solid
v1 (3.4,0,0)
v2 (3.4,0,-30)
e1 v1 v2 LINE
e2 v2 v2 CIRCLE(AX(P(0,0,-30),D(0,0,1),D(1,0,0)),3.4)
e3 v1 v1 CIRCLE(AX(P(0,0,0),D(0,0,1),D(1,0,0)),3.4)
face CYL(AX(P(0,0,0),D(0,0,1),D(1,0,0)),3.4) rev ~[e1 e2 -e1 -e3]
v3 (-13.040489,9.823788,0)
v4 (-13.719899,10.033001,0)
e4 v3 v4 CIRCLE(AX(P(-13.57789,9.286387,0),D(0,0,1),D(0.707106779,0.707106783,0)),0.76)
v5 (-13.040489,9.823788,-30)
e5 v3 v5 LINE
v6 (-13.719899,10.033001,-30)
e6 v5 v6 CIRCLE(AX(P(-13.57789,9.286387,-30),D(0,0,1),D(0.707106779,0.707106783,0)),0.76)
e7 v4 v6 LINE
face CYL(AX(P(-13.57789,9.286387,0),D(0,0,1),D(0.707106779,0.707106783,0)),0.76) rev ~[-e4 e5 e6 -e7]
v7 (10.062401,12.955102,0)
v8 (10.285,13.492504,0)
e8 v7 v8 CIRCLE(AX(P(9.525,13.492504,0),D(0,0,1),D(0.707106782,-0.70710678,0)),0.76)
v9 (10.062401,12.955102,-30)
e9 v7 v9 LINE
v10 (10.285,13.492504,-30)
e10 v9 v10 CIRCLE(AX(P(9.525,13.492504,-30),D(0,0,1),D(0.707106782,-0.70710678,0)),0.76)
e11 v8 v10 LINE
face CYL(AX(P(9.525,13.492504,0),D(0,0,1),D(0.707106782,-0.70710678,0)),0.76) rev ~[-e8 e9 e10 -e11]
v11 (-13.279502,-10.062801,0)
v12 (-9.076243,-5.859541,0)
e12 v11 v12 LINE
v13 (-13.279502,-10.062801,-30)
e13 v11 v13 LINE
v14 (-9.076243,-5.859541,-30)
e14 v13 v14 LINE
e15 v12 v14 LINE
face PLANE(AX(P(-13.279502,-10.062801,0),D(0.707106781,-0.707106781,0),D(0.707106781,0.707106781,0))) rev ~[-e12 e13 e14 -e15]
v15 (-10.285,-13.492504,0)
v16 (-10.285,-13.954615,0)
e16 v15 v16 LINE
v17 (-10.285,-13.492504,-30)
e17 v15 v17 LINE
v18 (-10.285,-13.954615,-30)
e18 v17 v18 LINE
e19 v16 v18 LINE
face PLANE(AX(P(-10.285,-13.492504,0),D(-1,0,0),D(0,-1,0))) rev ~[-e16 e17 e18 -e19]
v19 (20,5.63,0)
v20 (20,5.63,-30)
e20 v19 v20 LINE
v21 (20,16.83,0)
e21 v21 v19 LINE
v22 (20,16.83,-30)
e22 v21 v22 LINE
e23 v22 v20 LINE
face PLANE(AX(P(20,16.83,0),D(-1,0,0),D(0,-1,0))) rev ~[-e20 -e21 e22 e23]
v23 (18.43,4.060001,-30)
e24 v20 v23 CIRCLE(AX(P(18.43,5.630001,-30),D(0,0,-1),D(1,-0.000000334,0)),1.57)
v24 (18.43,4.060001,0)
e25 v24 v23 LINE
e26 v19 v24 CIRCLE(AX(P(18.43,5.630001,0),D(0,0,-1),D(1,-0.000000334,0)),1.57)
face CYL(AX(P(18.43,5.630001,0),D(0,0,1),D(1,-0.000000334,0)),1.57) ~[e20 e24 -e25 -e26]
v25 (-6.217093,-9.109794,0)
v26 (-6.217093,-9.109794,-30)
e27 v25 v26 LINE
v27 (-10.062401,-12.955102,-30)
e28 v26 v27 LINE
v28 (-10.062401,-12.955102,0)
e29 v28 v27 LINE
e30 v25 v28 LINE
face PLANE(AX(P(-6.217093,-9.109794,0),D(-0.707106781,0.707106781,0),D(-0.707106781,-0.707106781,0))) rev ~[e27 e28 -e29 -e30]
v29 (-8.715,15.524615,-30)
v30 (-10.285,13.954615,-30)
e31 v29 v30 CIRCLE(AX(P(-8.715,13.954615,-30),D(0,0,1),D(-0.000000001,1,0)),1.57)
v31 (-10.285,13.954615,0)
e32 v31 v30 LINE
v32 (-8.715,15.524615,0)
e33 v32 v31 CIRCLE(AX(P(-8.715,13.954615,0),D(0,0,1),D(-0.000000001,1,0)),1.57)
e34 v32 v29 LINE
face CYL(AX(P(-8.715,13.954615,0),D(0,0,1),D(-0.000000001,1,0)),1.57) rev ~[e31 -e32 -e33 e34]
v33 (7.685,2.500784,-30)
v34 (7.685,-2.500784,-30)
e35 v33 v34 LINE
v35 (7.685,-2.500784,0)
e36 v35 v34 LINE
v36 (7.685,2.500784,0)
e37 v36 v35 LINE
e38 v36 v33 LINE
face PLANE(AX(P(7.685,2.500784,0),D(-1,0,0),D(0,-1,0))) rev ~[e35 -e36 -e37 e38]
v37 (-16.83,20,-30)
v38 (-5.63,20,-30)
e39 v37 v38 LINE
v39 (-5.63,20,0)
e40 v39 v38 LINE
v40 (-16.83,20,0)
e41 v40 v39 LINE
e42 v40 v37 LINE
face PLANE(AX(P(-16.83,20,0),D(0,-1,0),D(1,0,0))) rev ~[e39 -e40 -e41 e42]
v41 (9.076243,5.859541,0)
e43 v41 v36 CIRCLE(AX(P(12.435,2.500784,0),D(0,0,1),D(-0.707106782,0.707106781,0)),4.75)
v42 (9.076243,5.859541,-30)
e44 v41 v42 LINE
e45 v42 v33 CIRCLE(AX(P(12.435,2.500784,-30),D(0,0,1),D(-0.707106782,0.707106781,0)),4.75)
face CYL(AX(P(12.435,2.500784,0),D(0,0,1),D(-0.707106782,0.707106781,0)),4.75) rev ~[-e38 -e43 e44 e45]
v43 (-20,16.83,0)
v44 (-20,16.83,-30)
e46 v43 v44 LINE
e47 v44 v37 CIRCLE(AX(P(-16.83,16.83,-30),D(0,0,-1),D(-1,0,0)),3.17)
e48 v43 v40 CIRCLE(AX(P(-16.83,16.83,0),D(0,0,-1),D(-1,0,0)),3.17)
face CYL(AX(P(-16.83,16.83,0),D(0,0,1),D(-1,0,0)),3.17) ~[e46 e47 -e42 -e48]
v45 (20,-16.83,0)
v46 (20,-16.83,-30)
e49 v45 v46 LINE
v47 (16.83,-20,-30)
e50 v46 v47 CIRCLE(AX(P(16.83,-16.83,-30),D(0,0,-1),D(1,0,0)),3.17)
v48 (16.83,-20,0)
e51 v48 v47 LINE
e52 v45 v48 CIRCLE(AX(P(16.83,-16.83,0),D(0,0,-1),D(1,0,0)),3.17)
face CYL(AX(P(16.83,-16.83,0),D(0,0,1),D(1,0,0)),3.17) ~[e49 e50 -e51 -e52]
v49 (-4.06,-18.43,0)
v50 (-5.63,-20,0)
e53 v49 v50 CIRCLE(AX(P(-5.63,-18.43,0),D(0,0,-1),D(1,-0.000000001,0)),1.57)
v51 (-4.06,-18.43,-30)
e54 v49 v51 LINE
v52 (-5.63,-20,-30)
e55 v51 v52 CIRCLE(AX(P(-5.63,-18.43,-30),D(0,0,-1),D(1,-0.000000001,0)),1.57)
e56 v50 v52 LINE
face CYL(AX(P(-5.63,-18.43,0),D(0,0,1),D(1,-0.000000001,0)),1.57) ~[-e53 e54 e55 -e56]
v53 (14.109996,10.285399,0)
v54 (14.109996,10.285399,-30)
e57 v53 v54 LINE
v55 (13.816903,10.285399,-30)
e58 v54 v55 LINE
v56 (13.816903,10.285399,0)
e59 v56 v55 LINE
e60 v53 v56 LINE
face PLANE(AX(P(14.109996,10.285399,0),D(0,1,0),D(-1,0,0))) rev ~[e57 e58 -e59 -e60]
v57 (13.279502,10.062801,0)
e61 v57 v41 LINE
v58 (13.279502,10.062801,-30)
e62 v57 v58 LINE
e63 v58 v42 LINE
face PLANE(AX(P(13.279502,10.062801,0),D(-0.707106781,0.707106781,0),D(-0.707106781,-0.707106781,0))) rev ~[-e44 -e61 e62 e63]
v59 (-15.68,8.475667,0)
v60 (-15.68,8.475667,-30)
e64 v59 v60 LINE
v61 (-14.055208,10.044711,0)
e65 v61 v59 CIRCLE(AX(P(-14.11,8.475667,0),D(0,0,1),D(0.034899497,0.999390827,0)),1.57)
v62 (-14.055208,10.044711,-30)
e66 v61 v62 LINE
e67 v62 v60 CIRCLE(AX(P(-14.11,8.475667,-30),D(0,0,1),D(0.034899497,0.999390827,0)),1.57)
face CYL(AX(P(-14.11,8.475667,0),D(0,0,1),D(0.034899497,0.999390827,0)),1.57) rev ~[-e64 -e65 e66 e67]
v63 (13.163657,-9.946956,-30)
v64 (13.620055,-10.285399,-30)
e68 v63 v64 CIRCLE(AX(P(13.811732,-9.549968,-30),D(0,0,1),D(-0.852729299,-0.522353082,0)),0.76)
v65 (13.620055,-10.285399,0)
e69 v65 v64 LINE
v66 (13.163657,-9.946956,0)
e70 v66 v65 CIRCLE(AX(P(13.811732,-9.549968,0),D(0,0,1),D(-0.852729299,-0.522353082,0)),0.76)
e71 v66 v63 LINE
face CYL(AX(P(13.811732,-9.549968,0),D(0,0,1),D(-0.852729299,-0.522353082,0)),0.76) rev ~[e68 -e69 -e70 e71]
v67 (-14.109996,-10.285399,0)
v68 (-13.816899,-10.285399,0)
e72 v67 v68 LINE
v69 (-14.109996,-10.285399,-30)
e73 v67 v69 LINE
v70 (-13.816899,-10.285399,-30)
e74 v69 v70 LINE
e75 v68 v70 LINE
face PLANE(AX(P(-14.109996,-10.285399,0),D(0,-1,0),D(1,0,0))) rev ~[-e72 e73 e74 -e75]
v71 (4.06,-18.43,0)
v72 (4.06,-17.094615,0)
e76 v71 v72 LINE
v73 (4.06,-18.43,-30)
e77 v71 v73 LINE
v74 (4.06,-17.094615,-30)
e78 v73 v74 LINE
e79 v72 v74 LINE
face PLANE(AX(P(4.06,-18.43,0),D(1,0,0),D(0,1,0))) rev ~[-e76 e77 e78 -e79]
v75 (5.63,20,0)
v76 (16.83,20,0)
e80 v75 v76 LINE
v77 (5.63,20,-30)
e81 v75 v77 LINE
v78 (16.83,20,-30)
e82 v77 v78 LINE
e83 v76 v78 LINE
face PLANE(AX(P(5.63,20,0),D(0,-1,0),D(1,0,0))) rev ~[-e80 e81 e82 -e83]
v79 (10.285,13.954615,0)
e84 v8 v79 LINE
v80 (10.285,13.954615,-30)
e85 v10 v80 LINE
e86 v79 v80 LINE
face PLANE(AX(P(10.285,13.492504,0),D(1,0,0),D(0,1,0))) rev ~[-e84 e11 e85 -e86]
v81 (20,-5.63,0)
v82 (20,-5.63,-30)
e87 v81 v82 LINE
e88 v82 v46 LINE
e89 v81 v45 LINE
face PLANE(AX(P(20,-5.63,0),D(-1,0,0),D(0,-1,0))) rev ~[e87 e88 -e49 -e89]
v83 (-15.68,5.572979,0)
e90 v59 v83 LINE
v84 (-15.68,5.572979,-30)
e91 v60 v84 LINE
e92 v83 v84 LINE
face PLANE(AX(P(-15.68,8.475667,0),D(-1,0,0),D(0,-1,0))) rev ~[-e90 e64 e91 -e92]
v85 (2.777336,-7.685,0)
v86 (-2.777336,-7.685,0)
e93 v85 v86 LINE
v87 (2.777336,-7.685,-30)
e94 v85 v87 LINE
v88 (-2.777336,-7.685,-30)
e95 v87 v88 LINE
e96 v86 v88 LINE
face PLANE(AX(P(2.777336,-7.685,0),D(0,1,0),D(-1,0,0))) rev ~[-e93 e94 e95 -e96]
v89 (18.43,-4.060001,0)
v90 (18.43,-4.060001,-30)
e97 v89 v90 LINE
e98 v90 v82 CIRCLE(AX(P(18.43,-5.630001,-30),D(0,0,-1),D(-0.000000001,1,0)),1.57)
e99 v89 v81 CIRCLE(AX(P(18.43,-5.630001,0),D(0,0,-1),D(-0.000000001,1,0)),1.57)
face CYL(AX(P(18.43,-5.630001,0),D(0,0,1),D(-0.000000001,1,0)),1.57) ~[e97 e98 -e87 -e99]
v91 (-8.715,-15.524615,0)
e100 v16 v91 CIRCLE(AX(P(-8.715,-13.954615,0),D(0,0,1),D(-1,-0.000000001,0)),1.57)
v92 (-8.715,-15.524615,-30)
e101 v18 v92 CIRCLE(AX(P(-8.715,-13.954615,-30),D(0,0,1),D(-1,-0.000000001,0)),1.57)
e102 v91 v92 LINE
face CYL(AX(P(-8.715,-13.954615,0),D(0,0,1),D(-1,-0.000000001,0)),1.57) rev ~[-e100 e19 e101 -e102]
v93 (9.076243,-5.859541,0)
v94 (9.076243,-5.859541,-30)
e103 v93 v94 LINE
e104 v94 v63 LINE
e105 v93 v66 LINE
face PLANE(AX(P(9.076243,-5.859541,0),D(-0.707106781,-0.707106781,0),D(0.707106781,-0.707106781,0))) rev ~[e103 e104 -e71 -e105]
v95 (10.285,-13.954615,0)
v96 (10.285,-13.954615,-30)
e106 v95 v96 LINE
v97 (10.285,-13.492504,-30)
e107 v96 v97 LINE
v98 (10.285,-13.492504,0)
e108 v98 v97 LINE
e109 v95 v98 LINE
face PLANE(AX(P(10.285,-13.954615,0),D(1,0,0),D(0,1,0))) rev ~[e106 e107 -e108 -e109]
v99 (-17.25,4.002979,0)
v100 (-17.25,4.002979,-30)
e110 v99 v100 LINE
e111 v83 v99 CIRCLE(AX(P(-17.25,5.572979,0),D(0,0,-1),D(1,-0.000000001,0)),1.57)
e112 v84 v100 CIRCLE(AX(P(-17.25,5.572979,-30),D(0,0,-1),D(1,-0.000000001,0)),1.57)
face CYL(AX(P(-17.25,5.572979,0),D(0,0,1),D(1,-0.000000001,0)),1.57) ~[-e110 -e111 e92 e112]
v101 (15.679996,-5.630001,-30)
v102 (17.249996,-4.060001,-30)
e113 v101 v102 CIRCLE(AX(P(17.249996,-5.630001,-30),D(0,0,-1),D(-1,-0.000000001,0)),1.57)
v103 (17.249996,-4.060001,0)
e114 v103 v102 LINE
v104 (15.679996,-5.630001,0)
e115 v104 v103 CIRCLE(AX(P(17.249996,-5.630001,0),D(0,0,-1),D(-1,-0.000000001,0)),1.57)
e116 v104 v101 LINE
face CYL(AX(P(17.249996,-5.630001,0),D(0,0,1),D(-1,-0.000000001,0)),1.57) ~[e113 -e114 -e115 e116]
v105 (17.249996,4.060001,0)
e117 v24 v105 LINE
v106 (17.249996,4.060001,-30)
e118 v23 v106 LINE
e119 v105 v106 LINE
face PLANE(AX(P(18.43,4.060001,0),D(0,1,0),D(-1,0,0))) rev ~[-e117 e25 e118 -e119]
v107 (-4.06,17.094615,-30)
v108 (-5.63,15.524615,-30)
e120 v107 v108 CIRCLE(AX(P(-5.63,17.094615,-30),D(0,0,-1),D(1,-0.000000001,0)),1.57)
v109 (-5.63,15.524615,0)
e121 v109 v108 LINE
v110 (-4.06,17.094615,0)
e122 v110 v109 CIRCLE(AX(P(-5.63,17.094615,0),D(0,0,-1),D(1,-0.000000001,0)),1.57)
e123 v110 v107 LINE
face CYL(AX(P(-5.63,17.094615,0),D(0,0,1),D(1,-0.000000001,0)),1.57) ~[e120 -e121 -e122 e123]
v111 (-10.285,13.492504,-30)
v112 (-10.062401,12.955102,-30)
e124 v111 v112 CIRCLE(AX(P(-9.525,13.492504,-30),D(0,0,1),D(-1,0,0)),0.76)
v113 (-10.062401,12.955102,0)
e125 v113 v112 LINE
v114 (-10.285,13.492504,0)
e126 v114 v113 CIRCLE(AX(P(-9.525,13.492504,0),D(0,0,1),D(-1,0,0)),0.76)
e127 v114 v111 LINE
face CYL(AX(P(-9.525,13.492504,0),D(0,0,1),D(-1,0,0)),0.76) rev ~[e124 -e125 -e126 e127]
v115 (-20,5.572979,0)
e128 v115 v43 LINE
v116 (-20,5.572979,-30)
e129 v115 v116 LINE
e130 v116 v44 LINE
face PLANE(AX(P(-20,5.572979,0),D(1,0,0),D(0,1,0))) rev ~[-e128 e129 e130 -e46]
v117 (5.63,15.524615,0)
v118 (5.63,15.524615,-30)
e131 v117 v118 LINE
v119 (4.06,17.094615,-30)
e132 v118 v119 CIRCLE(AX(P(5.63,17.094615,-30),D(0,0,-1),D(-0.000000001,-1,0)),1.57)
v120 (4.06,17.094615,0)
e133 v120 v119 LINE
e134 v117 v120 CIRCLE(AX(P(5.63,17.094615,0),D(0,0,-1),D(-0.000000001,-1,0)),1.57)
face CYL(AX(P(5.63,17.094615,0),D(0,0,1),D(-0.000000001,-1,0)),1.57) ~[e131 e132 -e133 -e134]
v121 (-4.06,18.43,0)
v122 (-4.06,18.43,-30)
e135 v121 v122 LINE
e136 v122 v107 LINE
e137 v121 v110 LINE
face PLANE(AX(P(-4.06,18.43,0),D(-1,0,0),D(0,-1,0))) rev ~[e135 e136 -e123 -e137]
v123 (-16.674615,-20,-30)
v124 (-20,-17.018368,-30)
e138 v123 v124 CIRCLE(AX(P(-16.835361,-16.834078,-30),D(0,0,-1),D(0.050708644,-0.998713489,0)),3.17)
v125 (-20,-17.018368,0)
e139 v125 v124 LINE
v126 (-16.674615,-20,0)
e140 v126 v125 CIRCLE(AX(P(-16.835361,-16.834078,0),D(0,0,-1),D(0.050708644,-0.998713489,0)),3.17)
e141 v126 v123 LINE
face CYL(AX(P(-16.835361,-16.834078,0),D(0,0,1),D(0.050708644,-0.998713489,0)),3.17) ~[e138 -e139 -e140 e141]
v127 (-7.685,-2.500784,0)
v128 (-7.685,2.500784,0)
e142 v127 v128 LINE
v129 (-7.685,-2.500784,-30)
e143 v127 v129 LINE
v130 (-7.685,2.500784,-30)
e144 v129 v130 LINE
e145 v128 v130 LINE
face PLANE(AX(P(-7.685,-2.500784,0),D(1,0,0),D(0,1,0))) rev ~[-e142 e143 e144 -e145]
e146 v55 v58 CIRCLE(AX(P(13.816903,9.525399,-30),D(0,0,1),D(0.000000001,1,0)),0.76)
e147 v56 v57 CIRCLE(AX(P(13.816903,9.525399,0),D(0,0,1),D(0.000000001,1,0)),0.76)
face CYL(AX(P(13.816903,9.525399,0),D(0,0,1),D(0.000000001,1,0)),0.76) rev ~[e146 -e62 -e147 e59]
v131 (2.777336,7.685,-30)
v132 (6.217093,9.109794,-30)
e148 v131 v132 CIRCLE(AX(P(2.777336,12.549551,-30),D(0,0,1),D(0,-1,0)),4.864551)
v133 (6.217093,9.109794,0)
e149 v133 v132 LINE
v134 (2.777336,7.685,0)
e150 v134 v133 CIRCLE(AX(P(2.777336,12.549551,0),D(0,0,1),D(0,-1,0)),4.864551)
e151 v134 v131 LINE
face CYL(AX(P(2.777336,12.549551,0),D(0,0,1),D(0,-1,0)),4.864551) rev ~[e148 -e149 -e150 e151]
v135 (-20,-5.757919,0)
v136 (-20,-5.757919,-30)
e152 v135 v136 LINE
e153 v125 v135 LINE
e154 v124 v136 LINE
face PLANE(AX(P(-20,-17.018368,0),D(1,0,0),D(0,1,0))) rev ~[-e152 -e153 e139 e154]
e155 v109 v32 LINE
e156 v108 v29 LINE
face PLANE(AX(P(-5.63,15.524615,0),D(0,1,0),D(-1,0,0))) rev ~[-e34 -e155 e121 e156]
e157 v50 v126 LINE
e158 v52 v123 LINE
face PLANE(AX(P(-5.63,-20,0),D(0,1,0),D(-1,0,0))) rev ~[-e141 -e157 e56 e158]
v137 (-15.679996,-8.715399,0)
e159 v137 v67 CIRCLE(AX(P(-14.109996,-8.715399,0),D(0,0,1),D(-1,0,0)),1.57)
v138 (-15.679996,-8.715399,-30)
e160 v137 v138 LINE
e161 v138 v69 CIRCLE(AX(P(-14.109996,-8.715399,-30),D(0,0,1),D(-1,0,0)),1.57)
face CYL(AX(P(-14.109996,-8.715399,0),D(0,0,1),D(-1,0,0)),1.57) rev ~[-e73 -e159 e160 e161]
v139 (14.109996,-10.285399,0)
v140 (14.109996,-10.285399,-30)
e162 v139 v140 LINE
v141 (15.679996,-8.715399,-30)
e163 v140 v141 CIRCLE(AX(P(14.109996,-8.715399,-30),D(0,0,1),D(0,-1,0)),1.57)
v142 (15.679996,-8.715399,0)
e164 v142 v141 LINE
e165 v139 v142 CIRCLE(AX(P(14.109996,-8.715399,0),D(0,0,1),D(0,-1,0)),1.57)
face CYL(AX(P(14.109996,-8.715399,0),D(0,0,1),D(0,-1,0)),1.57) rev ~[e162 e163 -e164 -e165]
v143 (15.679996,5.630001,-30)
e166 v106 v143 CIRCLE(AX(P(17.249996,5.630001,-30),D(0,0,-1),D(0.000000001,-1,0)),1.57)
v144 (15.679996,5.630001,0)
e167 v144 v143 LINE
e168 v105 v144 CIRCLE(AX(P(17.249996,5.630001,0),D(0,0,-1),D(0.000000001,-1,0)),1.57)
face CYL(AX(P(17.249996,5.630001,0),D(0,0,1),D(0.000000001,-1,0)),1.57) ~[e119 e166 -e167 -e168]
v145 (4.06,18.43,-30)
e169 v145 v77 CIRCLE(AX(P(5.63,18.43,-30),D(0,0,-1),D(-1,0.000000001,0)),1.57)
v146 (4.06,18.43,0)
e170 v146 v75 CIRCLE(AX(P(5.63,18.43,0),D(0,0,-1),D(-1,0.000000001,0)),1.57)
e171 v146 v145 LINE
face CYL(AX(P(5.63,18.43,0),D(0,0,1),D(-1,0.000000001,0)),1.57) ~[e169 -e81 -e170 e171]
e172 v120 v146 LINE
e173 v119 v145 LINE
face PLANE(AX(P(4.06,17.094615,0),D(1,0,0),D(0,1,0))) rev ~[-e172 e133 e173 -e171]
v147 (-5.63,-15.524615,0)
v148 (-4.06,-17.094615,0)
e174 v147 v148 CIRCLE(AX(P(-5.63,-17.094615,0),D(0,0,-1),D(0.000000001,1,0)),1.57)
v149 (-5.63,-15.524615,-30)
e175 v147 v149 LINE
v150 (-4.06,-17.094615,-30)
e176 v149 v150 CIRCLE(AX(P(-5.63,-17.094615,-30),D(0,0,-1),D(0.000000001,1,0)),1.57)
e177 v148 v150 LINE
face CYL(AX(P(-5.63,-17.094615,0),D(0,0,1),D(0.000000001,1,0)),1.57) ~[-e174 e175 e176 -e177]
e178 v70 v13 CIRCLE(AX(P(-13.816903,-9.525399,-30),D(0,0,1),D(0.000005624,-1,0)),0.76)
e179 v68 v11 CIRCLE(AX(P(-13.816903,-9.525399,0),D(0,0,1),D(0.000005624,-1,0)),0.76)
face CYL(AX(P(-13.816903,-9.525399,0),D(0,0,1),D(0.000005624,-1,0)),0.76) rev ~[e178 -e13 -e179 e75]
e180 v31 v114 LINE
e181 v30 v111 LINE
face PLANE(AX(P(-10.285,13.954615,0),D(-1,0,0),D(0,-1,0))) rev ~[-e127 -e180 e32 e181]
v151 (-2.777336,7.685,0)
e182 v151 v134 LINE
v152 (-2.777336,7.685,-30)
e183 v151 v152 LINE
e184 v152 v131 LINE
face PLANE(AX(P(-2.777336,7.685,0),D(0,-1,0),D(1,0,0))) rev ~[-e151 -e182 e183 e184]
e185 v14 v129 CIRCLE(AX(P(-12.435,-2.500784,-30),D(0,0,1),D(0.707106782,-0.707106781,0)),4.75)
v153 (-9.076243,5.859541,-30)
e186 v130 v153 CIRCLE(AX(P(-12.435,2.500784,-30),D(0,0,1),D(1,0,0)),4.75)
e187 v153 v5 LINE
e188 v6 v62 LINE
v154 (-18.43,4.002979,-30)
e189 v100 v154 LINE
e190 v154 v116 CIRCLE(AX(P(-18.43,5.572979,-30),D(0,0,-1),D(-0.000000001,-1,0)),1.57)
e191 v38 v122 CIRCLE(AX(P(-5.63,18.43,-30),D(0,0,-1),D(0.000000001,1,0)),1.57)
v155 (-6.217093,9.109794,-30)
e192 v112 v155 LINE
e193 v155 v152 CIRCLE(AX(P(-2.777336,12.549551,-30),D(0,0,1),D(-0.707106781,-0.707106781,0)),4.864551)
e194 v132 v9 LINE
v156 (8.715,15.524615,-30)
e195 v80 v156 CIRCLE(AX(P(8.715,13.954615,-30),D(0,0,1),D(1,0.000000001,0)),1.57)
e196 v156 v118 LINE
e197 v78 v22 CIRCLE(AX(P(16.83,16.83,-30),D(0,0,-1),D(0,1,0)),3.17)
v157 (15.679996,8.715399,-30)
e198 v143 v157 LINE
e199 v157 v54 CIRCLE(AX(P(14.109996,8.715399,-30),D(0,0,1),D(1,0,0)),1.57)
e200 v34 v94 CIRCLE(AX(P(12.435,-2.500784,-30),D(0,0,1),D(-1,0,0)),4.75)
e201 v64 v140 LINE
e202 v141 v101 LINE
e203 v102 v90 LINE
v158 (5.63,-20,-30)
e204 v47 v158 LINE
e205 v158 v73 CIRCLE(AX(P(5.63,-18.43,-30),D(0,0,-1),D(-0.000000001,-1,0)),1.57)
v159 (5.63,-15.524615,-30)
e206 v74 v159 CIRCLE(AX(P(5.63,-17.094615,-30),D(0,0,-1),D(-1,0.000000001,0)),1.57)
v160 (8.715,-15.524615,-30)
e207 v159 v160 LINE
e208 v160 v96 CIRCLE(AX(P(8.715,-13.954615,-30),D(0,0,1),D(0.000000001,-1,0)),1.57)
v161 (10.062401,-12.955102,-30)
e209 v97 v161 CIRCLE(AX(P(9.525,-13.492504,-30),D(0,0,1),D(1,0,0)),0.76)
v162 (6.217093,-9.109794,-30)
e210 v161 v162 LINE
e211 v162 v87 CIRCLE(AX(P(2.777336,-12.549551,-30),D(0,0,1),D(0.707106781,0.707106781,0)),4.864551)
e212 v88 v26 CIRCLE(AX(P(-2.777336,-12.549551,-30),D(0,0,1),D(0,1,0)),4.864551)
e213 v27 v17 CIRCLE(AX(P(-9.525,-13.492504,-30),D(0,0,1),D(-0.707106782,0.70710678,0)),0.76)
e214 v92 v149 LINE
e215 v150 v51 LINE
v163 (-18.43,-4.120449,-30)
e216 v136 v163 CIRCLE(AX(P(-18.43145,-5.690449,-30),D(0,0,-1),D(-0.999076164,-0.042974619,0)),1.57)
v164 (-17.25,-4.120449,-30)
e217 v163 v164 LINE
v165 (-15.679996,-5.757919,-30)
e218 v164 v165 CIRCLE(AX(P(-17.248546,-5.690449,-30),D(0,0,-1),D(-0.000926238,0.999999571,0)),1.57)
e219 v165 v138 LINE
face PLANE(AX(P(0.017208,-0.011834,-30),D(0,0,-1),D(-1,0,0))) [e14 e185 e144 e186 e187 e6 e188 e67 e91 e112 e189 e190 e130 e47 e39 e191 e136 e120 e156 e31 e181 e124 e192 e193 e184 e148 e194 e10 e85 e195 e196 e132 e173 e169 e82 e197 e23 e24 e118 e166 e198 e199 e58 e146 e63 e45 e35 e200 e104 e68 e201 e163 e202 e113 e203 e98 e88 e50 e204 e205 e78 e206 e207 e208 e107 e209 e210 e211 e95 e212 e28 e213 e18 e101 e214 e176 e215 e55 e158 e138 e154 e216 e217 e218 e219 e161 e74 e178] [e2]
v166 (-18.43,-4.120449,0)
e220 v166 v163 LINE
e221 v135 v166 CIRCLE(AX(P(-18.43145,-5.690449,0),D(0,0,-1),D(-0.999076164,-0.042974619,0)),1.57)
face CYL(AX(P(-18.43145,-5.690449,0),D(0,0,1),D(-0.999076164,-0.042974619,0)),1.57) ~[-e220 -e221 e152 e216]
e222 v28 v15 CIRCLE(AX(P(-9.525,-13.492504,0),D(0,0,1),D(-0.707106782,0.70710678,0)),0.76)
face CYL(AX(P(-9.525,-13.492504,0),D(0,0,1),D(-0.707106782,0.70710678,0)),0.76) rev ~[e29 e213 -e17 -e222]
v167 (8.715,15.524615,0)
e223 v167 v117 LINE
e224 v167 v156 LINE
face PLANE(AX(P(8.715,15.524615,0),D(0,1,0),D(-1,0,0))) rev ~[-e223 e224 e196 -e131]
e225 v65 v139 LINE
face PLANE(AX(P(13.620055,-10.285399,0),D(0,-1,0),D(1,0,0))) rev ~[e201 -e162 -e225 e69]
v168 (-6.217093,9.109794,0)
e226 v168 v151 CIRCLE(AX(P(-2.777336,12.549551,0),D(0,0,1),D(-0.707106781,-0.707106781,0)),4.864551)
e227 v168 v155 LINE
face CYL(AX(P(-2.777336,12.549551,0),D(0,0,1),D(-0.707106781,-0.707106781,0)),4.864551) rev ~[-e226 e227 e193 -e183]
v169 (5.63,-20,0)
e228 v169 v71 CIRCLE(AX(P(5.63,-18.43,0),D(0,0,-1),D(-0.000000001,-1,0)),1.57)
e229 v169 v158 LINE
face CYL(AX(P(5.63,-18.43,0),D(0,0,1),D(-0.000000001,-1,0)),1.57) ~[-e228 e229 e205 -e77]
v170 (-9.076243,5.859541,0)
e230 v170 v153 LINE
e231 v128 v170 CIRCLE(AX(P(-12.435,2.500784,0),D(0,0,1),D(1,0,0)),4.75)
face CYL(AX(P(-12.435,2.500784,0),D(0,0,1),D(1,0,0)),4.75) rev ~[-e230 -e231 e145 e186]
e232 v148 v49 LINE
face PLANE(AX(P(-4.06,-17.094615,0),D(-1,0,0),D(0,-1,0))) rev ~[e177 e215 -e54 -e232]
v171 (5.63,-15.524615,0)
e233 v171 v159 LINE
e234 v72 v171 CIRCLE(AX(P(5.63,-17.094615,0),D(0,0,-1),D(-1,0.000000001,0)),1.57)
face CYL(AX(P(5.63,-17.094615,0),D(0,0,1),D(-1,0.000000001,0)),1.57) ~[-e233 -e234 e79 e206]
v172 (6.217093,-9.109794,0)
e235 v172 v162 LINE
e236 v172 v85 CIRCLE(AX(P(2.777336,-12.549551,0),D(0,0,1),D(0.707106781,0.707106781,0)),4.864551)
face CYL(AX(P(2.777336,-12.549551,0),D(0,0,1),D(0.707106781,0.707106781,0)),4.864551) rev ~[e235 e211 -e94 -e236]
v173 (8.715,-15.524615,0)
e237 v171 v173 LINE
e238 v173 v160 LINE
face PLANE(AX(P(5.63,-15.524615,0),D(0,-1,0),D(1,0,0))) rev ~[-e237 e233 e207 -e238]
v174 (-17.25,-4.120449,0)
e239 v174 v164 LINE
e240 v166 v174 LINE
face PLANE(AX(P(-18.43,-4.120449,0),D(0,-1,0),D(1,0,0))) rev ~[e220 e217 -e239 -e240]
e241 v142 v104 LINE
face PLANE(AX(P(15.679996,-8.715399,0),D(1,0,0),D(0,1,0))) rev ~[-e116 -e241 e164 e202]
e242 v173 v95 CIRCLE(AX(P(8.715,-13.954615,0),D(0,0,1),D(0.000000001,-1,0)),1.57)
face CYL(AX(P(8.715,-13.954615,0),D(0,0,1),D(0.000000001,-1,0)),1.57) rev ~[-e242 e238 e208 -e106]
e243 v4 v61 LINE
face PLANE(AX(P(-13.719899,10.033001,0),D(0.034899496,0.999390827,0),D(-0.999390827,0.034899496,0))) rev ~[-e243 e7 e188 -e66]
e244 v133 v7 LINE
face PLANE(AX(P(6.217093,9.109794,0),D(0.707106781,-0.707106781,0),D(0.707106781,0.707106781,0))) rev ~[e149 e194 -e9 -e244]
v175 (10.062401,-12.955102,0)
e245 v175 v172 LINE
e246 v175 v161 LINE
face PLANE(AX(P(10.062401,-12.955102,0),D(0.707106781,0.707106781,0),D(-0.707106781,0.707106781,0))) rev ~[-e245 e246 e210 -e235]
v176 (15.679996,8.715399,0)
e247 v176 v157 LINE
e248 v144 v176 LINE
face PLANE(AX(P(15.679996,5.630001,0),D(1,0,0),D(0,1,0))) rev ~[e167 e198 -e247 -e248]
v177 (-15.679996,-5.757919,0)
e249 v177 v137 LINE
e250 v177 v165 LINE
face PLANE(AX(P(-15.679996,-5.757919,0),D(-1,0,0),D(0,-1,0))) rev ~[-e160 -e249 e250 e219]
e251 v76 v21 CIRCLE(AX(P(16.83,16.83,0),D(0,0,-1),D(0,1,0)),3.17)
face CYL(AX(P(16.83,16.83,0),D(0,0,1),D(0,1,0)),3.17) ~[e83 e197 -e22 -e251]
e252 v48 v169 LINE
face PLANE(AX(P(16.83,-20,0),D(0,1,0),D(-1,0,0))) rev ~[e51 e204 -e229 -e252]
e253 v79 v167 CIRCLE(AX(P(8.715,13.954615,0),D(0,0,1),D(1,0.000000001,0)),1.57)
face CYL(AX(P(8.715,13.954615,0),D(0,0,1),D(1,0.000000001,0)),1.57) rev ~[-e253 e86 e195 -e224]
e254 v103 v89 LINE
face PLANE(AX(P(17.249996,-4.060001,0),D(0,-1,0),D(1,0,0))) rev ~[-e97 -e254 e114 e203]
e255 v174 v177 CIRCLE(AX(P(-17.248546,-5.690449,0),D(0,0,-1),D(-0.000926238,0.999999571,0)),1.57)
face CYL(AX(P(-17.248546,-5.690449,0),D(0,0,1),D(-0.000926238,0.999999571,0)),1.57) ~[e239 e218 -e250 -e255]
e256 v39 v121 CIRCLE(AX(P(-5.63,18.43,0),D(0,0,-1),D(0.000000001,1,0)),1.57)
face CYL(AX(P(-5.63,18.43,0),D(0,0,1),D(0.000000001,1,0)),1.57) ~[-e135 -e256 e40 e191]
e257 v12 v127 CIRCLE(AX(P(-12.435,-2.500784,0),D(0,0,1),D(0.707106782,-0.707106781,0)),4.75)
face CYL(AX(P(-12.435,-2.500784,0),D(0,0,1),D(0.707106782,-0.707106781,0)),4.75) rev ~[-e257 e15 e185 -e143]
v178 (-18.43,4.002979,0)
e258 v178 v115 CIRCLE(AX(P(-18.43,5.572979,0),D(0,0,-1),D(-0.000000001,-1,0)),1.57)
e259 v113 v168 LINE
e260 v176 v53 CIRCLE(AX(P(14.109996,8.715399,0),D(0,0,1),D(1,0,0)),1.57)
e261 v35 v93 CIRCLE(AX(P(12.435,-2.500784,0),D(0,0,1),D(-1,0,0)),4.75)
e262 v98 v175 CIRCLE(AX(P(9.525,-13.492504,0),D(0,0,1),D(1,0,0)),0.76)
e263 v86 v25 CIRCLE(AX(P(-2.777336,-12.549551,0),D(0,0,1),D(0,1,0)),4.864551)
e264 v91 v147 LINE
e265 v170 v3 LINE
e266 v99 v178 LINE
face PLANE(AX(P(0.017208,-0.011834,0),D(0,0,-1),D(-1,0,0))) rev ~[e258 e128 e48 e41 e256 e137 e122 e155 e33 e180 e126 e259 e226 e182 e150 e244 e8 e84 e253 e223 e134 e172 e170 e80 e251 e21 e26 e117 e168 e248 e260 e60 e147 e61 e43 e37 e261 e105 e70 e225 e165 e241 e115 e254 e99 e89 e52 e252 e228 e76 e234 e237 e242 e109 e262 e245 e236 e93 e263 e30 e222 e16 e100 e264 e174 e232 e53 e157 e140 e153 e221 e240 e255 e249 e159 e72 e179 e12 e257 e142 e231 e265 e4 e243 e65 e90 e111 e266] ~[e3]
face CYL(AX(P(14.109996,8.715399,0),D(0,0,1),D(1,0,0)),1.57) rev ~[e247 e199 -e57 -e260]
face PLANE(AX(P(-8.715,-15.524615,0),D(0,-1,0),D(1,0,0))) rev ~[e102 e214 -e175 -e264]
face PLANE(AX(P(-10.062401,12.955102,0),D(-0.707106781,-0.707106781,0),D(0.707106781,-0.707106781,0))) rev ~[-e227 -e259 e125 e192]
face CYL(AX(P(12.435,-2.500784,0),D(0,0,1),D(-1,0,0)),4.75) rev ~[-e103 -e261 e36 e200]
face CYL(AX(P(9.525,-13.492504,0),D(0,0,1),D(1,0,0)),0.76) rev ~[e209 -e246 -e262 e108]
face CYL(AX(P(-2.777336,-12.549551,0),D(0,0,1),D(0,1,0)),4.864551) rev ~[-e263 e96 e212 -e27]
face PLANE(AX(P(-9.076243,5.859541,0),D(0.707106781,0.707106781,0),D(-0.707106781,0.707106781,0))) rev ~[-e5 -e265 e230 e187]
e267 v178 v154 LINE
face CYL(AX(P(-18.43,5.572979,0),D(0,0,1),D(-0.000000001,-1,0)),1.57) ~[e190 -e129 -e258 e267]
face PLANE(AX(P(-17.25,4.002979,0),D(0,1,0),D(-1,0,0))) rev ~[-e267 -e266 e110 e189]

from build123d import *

# Parameters (mm, degrees)
SKETCH1_R      = 3.4
EXTRUDE1_DEPTH = 30


with BuildPart() as part:
    # Sketch1 → Extrude1 (new body)
    with BuildSketch(Plane.XY):
        with BuildLine():
            Line((-8.715, -15.524615034), (-5.63, -15.524615034))
            ThreePointArc((-5.63, -15.524615034), (-4.519842354, -15.984457388), (-4.06, -17.094615034))
            Line((-4.06, -17.094615034), (-4.06, -18.43))
            ThreePointArc((-4.06, -18.43), (-4.519842354, -19.540157646), (-5.63, -20))
            Line((-5.63, -20), (-16.674615034, -20))
            ThreePointArc((-16.674615034, -20), (-18.951578385, -19.194274381), (-20, -17.018368134))
            Line((-20, -17.018368134), (-20, -5.757918808))
            ThreePointArc((-20, -5.757918808), (-19.564709668, -4.603883664), (-18.43, -4.120449326))
            Line((-18.43, -4.120449326), (-17.25, -4.120449326))
            ThreePointArc((-17.25, -4.120449326), (-16.115287682, -4.60388249), (-15.67999625, -5.757919334))
            Line((-15.67999625, -5.757919334), (-15.67999625, -8.715399492))
            ThreePointArc((-15.67999625, -8.715399492), (-15.220153896, -9.825557139), (-14.10999625, -10.285399492))
            Line((-14.10999625, -10.285399492), (-13.816898819, -10.285399492))
            ThreePointArc((-13.816898819, -10.285399492), (-13.526061711, -10.227547119), (-13.279501941, -10.062800646))
            Line((-13.279501941, -10.062800646), (-9.076242789, -5.859541495))
            ThreePointArc((-9.076242789, -5.859541495), (-8.046572221, -4.318530588), (-7.685, -2.500784284))
            Line((-7.685, -2.500784284), (-7.685, 2.500784284))
            ThreePointArc((-7.685, 2.500784284), (-8.046572221, 4.318530588), (-9.076242789, 5.859541495))
            Line((-9.076242789, 5.859541495), (-13.040489136, 9.823787841))
            ThreePointArc((-13.040489136, 9.823787841), (-13.354224618, 10.012729352), (-13.71989919, 10.033001362))
            Line((-13.71989919, 10.033001362), (-14.05520779, 10.044710596))
            ThreePointArc((-14.05520779, 10.044710596), (-15.200613642, 9.605030484), (-15.68, 8.475666998))
            Line((-15.68, 8.475666998), (-15.68, 5.572979049))
            ThreePointArc((-15.68, 5.572979049), (-16.139842354, 4.462821403), (-17.25, 4.002979049))
            Line((-17.25, 4.002979049), (-18.43, 4.002979049))
            ThreePointArc((-18.43, 4.002979049), (-19.540157646, 4.462821403), (-20, 5.572979049))
            Line((-20, 5.572979049), (-20, 13.004526564))
            Line((-20, 13.004526564), (-20, 16.83))
            ThreePointArc((-20, 16.83), (-19.071528496, 19.071528496), (-16.83, 20))
            Line((-16.83, 20), (-5.63, 20))
            ThreePointArc((-5.63, 20), (-4.519842354, 19.540157646), (-4.06, 18.43))
            Line((-4.06, 18.43), (-4.06, 17.094615034))
            ThreePointArc((-4.06, 17.094615034), (-4.519842354, 15.984457388), (-5.63, 15.524615034))
            Line((-5.63, 15.524615034), (-8.715, 15.524615034))
            ThreePointArc((-8.715, 15.524615034), (-9.825157646, 15.06477268), (-10.285, 13.954615034))
            Line((-10.285, 13.954615034), (-10.285, 13.492503602))
            ThreePointArc((-10.285, 13.492503602), (-10.227148445, 13.201664194), (-10.062401154, 12.955102448))
            Line((-10.062401154, 12.955102448), (-6.217092793, 9.109794088))
            ThreePointArc((-6.217092793, 9.109794088), (-4.63891877, 8.055291919), (-2.777335583, 7.685))
            Line((-2.777335583, 7.685), (2.777335583, 7.685))
            ThreePointArc((2.777335583, 7.685), (4.63891877, 8.055291919), (6.217092793, 9.109794088))
            Line((6.217092793, 9.109794088), (10.062401154, 12.955102448))
            ThreePointArc((10.062401154, 12.955102448), (10.227148445, 13.201664194), (10.285, 13.492503602))
            Line((10.285, 13.492503602), (10.285, 13.954615034))
            ThreePointArc((10.285, 13.954615034), (9.825157646, 15.06477268), (8.715, 15.524615034))
            Line((8.715, 15.524615034), (5.63, 15.524615034))
            ThreePointArc((5.63, 15.524615034), (4.519842354, 15.984457388), (4.06, 17.094615034))
            Line((4.06, 17.094615034), (4.06, 18.43))
            ThreePointArc((4.06, 18.43), (4.519842354, 19.540157646), (5.63, 20))
            Line((5.63, 20), (12.979635074, 20))
            Line((12.979635074, 20), (16.83, 20))
            ThreePointArc((16.83, 20), (19.071528496, 19.071528496), (20, 16.83))
            Line((20, 16.83), (20, 13.001098436))
            Line((20, 13.001098436), (20, 5.63))
            ThreePointArc((20, 5.63), (19.540157461, 4.519842693), (18.43, 4.060000526))
            Line((18.43, 4.060000526), (17.24999625, 4.060000526))
            ThreePointArc((17.24999625, 4.060000526), (16.139838603, 4.519842879), (15.67999625, 5.630000526))
            Line((15.67999625, 5.630000526), (15.67999625, 8.715399492))
            ThreePointArc((15.67999625, 8.715399492), (15.220153896, 9.825557139), (14.10999625, 10.285399492))
            Line((14.10999625, 10.285399492), (13.816903094, 10.285399492))
            ThreePointArc((13.816903094, 10.285399492), (13.526063686, 10.227547937), (13.279501941, 10.062800646))
            Line((13.279501941, 10.062800646), (9.076242789, 5.859541495))
            ThreePointArc((9.076242789, 5.859541495), (8.046572221, 4.318530588), (7.685, 2.500784284))
            Line((7.685, 2.500784284), (7.685, -2.500784284))
            ThreePointArc((7.685, -2.500784284), (8.046572221, -4.318530588), (9.076242789, -5.859541495))
            Line((9.076242789, -5.859541495), (13.163657296, -9.946956002))
            ThreePointArc((13.163657296, -9.946956002), (13.35903797, -10.160433474), (13.6200547, -10.285399492))
            Line((13.6200547, -10.285399492), (14.10999625, -10.285399492))
            ThreePointArc((14.10999625, -10.285399492), (15.220153896, -9.825557139), (15.67999625, -8.715399492))
            Line((15.67999625, -8.715399492), (15.67999625, -5.630000526))
            ThreePointArc((15.67999625, -5.630000526), (16.139838603, -4.519842879), (17.24999625, -4.060000526))
            Line((17.24999625, -4.060000526), (18.43, -4.060000526))
            ThreePointArc((18.43, -4.060000526), (19.540157461, -4.519842693), (20, -5.63))
            Line((20, -5.63), (20, -16.83))
            ThreePointArc((20, -16.83), (19.071528496, -19.071528496), (16.83, -20))
            Line((16.83, -20), (13, -20))
            Line((13, -20), (5.63, -20))
            ThreePointArc((5.63, -20), (4.519842354, -19.540157646), (4.06, -18.43))
            Line((4.06, -18.43), (4.06, -17.094615034))
            ThreePointArc((4.06, -17.094615034), (4.519842354, -15.984457388), (5.63, -15.524615034))
            Line((5.63, -15.524615034), (8.715, -15.524615034))
            ThreePointArc((8.715, -15.524615034), (9.825157646, -15.06477268), (10.285, -13.954615034))
            Line((10.285, -13.954615034), (10.285, -13.492503602))
            ThreePointArc((10.285, -13.492503602), (10.227148445, -13.201664194), (10.062401154, -12.955102448))
            Line((10.062401154, -12.955102448), (6.217092793, -9.109794088))
            ThreePointArc((6.217092793, -9.109794088), (4.63891877, -8.055291919), (2.777335583, -7.685))
            Line((2.777335583, -7.685), (-2.777335583, -7.685))
            ThreePointArc((-2.777335583, -7.685), (-4.63891877, -8.055291919), (-6.217092793, -9.109794088))
            Line((-6.217092793, -9.109794088), (-10.062401154, -12.955102448))
            ThreePointArc((-10.062401154, -12.955102448), (-10.227148445, -13.201664194), (-10.285, -13.492503602))
            Line((-10.285, -13.492503602), (-10.285, -13.954615034))
            ThreePointArc((-10.285, -13.954615034), (-9.825157646, -15.06477268), (-8.715, -15.524615034))
        make_face()
        Circle(SKETCH1_R, mode=Mode.SUBTRACT)
    extrude(amount=-EXTRUDE1_DEPTH)


solid = part.part
